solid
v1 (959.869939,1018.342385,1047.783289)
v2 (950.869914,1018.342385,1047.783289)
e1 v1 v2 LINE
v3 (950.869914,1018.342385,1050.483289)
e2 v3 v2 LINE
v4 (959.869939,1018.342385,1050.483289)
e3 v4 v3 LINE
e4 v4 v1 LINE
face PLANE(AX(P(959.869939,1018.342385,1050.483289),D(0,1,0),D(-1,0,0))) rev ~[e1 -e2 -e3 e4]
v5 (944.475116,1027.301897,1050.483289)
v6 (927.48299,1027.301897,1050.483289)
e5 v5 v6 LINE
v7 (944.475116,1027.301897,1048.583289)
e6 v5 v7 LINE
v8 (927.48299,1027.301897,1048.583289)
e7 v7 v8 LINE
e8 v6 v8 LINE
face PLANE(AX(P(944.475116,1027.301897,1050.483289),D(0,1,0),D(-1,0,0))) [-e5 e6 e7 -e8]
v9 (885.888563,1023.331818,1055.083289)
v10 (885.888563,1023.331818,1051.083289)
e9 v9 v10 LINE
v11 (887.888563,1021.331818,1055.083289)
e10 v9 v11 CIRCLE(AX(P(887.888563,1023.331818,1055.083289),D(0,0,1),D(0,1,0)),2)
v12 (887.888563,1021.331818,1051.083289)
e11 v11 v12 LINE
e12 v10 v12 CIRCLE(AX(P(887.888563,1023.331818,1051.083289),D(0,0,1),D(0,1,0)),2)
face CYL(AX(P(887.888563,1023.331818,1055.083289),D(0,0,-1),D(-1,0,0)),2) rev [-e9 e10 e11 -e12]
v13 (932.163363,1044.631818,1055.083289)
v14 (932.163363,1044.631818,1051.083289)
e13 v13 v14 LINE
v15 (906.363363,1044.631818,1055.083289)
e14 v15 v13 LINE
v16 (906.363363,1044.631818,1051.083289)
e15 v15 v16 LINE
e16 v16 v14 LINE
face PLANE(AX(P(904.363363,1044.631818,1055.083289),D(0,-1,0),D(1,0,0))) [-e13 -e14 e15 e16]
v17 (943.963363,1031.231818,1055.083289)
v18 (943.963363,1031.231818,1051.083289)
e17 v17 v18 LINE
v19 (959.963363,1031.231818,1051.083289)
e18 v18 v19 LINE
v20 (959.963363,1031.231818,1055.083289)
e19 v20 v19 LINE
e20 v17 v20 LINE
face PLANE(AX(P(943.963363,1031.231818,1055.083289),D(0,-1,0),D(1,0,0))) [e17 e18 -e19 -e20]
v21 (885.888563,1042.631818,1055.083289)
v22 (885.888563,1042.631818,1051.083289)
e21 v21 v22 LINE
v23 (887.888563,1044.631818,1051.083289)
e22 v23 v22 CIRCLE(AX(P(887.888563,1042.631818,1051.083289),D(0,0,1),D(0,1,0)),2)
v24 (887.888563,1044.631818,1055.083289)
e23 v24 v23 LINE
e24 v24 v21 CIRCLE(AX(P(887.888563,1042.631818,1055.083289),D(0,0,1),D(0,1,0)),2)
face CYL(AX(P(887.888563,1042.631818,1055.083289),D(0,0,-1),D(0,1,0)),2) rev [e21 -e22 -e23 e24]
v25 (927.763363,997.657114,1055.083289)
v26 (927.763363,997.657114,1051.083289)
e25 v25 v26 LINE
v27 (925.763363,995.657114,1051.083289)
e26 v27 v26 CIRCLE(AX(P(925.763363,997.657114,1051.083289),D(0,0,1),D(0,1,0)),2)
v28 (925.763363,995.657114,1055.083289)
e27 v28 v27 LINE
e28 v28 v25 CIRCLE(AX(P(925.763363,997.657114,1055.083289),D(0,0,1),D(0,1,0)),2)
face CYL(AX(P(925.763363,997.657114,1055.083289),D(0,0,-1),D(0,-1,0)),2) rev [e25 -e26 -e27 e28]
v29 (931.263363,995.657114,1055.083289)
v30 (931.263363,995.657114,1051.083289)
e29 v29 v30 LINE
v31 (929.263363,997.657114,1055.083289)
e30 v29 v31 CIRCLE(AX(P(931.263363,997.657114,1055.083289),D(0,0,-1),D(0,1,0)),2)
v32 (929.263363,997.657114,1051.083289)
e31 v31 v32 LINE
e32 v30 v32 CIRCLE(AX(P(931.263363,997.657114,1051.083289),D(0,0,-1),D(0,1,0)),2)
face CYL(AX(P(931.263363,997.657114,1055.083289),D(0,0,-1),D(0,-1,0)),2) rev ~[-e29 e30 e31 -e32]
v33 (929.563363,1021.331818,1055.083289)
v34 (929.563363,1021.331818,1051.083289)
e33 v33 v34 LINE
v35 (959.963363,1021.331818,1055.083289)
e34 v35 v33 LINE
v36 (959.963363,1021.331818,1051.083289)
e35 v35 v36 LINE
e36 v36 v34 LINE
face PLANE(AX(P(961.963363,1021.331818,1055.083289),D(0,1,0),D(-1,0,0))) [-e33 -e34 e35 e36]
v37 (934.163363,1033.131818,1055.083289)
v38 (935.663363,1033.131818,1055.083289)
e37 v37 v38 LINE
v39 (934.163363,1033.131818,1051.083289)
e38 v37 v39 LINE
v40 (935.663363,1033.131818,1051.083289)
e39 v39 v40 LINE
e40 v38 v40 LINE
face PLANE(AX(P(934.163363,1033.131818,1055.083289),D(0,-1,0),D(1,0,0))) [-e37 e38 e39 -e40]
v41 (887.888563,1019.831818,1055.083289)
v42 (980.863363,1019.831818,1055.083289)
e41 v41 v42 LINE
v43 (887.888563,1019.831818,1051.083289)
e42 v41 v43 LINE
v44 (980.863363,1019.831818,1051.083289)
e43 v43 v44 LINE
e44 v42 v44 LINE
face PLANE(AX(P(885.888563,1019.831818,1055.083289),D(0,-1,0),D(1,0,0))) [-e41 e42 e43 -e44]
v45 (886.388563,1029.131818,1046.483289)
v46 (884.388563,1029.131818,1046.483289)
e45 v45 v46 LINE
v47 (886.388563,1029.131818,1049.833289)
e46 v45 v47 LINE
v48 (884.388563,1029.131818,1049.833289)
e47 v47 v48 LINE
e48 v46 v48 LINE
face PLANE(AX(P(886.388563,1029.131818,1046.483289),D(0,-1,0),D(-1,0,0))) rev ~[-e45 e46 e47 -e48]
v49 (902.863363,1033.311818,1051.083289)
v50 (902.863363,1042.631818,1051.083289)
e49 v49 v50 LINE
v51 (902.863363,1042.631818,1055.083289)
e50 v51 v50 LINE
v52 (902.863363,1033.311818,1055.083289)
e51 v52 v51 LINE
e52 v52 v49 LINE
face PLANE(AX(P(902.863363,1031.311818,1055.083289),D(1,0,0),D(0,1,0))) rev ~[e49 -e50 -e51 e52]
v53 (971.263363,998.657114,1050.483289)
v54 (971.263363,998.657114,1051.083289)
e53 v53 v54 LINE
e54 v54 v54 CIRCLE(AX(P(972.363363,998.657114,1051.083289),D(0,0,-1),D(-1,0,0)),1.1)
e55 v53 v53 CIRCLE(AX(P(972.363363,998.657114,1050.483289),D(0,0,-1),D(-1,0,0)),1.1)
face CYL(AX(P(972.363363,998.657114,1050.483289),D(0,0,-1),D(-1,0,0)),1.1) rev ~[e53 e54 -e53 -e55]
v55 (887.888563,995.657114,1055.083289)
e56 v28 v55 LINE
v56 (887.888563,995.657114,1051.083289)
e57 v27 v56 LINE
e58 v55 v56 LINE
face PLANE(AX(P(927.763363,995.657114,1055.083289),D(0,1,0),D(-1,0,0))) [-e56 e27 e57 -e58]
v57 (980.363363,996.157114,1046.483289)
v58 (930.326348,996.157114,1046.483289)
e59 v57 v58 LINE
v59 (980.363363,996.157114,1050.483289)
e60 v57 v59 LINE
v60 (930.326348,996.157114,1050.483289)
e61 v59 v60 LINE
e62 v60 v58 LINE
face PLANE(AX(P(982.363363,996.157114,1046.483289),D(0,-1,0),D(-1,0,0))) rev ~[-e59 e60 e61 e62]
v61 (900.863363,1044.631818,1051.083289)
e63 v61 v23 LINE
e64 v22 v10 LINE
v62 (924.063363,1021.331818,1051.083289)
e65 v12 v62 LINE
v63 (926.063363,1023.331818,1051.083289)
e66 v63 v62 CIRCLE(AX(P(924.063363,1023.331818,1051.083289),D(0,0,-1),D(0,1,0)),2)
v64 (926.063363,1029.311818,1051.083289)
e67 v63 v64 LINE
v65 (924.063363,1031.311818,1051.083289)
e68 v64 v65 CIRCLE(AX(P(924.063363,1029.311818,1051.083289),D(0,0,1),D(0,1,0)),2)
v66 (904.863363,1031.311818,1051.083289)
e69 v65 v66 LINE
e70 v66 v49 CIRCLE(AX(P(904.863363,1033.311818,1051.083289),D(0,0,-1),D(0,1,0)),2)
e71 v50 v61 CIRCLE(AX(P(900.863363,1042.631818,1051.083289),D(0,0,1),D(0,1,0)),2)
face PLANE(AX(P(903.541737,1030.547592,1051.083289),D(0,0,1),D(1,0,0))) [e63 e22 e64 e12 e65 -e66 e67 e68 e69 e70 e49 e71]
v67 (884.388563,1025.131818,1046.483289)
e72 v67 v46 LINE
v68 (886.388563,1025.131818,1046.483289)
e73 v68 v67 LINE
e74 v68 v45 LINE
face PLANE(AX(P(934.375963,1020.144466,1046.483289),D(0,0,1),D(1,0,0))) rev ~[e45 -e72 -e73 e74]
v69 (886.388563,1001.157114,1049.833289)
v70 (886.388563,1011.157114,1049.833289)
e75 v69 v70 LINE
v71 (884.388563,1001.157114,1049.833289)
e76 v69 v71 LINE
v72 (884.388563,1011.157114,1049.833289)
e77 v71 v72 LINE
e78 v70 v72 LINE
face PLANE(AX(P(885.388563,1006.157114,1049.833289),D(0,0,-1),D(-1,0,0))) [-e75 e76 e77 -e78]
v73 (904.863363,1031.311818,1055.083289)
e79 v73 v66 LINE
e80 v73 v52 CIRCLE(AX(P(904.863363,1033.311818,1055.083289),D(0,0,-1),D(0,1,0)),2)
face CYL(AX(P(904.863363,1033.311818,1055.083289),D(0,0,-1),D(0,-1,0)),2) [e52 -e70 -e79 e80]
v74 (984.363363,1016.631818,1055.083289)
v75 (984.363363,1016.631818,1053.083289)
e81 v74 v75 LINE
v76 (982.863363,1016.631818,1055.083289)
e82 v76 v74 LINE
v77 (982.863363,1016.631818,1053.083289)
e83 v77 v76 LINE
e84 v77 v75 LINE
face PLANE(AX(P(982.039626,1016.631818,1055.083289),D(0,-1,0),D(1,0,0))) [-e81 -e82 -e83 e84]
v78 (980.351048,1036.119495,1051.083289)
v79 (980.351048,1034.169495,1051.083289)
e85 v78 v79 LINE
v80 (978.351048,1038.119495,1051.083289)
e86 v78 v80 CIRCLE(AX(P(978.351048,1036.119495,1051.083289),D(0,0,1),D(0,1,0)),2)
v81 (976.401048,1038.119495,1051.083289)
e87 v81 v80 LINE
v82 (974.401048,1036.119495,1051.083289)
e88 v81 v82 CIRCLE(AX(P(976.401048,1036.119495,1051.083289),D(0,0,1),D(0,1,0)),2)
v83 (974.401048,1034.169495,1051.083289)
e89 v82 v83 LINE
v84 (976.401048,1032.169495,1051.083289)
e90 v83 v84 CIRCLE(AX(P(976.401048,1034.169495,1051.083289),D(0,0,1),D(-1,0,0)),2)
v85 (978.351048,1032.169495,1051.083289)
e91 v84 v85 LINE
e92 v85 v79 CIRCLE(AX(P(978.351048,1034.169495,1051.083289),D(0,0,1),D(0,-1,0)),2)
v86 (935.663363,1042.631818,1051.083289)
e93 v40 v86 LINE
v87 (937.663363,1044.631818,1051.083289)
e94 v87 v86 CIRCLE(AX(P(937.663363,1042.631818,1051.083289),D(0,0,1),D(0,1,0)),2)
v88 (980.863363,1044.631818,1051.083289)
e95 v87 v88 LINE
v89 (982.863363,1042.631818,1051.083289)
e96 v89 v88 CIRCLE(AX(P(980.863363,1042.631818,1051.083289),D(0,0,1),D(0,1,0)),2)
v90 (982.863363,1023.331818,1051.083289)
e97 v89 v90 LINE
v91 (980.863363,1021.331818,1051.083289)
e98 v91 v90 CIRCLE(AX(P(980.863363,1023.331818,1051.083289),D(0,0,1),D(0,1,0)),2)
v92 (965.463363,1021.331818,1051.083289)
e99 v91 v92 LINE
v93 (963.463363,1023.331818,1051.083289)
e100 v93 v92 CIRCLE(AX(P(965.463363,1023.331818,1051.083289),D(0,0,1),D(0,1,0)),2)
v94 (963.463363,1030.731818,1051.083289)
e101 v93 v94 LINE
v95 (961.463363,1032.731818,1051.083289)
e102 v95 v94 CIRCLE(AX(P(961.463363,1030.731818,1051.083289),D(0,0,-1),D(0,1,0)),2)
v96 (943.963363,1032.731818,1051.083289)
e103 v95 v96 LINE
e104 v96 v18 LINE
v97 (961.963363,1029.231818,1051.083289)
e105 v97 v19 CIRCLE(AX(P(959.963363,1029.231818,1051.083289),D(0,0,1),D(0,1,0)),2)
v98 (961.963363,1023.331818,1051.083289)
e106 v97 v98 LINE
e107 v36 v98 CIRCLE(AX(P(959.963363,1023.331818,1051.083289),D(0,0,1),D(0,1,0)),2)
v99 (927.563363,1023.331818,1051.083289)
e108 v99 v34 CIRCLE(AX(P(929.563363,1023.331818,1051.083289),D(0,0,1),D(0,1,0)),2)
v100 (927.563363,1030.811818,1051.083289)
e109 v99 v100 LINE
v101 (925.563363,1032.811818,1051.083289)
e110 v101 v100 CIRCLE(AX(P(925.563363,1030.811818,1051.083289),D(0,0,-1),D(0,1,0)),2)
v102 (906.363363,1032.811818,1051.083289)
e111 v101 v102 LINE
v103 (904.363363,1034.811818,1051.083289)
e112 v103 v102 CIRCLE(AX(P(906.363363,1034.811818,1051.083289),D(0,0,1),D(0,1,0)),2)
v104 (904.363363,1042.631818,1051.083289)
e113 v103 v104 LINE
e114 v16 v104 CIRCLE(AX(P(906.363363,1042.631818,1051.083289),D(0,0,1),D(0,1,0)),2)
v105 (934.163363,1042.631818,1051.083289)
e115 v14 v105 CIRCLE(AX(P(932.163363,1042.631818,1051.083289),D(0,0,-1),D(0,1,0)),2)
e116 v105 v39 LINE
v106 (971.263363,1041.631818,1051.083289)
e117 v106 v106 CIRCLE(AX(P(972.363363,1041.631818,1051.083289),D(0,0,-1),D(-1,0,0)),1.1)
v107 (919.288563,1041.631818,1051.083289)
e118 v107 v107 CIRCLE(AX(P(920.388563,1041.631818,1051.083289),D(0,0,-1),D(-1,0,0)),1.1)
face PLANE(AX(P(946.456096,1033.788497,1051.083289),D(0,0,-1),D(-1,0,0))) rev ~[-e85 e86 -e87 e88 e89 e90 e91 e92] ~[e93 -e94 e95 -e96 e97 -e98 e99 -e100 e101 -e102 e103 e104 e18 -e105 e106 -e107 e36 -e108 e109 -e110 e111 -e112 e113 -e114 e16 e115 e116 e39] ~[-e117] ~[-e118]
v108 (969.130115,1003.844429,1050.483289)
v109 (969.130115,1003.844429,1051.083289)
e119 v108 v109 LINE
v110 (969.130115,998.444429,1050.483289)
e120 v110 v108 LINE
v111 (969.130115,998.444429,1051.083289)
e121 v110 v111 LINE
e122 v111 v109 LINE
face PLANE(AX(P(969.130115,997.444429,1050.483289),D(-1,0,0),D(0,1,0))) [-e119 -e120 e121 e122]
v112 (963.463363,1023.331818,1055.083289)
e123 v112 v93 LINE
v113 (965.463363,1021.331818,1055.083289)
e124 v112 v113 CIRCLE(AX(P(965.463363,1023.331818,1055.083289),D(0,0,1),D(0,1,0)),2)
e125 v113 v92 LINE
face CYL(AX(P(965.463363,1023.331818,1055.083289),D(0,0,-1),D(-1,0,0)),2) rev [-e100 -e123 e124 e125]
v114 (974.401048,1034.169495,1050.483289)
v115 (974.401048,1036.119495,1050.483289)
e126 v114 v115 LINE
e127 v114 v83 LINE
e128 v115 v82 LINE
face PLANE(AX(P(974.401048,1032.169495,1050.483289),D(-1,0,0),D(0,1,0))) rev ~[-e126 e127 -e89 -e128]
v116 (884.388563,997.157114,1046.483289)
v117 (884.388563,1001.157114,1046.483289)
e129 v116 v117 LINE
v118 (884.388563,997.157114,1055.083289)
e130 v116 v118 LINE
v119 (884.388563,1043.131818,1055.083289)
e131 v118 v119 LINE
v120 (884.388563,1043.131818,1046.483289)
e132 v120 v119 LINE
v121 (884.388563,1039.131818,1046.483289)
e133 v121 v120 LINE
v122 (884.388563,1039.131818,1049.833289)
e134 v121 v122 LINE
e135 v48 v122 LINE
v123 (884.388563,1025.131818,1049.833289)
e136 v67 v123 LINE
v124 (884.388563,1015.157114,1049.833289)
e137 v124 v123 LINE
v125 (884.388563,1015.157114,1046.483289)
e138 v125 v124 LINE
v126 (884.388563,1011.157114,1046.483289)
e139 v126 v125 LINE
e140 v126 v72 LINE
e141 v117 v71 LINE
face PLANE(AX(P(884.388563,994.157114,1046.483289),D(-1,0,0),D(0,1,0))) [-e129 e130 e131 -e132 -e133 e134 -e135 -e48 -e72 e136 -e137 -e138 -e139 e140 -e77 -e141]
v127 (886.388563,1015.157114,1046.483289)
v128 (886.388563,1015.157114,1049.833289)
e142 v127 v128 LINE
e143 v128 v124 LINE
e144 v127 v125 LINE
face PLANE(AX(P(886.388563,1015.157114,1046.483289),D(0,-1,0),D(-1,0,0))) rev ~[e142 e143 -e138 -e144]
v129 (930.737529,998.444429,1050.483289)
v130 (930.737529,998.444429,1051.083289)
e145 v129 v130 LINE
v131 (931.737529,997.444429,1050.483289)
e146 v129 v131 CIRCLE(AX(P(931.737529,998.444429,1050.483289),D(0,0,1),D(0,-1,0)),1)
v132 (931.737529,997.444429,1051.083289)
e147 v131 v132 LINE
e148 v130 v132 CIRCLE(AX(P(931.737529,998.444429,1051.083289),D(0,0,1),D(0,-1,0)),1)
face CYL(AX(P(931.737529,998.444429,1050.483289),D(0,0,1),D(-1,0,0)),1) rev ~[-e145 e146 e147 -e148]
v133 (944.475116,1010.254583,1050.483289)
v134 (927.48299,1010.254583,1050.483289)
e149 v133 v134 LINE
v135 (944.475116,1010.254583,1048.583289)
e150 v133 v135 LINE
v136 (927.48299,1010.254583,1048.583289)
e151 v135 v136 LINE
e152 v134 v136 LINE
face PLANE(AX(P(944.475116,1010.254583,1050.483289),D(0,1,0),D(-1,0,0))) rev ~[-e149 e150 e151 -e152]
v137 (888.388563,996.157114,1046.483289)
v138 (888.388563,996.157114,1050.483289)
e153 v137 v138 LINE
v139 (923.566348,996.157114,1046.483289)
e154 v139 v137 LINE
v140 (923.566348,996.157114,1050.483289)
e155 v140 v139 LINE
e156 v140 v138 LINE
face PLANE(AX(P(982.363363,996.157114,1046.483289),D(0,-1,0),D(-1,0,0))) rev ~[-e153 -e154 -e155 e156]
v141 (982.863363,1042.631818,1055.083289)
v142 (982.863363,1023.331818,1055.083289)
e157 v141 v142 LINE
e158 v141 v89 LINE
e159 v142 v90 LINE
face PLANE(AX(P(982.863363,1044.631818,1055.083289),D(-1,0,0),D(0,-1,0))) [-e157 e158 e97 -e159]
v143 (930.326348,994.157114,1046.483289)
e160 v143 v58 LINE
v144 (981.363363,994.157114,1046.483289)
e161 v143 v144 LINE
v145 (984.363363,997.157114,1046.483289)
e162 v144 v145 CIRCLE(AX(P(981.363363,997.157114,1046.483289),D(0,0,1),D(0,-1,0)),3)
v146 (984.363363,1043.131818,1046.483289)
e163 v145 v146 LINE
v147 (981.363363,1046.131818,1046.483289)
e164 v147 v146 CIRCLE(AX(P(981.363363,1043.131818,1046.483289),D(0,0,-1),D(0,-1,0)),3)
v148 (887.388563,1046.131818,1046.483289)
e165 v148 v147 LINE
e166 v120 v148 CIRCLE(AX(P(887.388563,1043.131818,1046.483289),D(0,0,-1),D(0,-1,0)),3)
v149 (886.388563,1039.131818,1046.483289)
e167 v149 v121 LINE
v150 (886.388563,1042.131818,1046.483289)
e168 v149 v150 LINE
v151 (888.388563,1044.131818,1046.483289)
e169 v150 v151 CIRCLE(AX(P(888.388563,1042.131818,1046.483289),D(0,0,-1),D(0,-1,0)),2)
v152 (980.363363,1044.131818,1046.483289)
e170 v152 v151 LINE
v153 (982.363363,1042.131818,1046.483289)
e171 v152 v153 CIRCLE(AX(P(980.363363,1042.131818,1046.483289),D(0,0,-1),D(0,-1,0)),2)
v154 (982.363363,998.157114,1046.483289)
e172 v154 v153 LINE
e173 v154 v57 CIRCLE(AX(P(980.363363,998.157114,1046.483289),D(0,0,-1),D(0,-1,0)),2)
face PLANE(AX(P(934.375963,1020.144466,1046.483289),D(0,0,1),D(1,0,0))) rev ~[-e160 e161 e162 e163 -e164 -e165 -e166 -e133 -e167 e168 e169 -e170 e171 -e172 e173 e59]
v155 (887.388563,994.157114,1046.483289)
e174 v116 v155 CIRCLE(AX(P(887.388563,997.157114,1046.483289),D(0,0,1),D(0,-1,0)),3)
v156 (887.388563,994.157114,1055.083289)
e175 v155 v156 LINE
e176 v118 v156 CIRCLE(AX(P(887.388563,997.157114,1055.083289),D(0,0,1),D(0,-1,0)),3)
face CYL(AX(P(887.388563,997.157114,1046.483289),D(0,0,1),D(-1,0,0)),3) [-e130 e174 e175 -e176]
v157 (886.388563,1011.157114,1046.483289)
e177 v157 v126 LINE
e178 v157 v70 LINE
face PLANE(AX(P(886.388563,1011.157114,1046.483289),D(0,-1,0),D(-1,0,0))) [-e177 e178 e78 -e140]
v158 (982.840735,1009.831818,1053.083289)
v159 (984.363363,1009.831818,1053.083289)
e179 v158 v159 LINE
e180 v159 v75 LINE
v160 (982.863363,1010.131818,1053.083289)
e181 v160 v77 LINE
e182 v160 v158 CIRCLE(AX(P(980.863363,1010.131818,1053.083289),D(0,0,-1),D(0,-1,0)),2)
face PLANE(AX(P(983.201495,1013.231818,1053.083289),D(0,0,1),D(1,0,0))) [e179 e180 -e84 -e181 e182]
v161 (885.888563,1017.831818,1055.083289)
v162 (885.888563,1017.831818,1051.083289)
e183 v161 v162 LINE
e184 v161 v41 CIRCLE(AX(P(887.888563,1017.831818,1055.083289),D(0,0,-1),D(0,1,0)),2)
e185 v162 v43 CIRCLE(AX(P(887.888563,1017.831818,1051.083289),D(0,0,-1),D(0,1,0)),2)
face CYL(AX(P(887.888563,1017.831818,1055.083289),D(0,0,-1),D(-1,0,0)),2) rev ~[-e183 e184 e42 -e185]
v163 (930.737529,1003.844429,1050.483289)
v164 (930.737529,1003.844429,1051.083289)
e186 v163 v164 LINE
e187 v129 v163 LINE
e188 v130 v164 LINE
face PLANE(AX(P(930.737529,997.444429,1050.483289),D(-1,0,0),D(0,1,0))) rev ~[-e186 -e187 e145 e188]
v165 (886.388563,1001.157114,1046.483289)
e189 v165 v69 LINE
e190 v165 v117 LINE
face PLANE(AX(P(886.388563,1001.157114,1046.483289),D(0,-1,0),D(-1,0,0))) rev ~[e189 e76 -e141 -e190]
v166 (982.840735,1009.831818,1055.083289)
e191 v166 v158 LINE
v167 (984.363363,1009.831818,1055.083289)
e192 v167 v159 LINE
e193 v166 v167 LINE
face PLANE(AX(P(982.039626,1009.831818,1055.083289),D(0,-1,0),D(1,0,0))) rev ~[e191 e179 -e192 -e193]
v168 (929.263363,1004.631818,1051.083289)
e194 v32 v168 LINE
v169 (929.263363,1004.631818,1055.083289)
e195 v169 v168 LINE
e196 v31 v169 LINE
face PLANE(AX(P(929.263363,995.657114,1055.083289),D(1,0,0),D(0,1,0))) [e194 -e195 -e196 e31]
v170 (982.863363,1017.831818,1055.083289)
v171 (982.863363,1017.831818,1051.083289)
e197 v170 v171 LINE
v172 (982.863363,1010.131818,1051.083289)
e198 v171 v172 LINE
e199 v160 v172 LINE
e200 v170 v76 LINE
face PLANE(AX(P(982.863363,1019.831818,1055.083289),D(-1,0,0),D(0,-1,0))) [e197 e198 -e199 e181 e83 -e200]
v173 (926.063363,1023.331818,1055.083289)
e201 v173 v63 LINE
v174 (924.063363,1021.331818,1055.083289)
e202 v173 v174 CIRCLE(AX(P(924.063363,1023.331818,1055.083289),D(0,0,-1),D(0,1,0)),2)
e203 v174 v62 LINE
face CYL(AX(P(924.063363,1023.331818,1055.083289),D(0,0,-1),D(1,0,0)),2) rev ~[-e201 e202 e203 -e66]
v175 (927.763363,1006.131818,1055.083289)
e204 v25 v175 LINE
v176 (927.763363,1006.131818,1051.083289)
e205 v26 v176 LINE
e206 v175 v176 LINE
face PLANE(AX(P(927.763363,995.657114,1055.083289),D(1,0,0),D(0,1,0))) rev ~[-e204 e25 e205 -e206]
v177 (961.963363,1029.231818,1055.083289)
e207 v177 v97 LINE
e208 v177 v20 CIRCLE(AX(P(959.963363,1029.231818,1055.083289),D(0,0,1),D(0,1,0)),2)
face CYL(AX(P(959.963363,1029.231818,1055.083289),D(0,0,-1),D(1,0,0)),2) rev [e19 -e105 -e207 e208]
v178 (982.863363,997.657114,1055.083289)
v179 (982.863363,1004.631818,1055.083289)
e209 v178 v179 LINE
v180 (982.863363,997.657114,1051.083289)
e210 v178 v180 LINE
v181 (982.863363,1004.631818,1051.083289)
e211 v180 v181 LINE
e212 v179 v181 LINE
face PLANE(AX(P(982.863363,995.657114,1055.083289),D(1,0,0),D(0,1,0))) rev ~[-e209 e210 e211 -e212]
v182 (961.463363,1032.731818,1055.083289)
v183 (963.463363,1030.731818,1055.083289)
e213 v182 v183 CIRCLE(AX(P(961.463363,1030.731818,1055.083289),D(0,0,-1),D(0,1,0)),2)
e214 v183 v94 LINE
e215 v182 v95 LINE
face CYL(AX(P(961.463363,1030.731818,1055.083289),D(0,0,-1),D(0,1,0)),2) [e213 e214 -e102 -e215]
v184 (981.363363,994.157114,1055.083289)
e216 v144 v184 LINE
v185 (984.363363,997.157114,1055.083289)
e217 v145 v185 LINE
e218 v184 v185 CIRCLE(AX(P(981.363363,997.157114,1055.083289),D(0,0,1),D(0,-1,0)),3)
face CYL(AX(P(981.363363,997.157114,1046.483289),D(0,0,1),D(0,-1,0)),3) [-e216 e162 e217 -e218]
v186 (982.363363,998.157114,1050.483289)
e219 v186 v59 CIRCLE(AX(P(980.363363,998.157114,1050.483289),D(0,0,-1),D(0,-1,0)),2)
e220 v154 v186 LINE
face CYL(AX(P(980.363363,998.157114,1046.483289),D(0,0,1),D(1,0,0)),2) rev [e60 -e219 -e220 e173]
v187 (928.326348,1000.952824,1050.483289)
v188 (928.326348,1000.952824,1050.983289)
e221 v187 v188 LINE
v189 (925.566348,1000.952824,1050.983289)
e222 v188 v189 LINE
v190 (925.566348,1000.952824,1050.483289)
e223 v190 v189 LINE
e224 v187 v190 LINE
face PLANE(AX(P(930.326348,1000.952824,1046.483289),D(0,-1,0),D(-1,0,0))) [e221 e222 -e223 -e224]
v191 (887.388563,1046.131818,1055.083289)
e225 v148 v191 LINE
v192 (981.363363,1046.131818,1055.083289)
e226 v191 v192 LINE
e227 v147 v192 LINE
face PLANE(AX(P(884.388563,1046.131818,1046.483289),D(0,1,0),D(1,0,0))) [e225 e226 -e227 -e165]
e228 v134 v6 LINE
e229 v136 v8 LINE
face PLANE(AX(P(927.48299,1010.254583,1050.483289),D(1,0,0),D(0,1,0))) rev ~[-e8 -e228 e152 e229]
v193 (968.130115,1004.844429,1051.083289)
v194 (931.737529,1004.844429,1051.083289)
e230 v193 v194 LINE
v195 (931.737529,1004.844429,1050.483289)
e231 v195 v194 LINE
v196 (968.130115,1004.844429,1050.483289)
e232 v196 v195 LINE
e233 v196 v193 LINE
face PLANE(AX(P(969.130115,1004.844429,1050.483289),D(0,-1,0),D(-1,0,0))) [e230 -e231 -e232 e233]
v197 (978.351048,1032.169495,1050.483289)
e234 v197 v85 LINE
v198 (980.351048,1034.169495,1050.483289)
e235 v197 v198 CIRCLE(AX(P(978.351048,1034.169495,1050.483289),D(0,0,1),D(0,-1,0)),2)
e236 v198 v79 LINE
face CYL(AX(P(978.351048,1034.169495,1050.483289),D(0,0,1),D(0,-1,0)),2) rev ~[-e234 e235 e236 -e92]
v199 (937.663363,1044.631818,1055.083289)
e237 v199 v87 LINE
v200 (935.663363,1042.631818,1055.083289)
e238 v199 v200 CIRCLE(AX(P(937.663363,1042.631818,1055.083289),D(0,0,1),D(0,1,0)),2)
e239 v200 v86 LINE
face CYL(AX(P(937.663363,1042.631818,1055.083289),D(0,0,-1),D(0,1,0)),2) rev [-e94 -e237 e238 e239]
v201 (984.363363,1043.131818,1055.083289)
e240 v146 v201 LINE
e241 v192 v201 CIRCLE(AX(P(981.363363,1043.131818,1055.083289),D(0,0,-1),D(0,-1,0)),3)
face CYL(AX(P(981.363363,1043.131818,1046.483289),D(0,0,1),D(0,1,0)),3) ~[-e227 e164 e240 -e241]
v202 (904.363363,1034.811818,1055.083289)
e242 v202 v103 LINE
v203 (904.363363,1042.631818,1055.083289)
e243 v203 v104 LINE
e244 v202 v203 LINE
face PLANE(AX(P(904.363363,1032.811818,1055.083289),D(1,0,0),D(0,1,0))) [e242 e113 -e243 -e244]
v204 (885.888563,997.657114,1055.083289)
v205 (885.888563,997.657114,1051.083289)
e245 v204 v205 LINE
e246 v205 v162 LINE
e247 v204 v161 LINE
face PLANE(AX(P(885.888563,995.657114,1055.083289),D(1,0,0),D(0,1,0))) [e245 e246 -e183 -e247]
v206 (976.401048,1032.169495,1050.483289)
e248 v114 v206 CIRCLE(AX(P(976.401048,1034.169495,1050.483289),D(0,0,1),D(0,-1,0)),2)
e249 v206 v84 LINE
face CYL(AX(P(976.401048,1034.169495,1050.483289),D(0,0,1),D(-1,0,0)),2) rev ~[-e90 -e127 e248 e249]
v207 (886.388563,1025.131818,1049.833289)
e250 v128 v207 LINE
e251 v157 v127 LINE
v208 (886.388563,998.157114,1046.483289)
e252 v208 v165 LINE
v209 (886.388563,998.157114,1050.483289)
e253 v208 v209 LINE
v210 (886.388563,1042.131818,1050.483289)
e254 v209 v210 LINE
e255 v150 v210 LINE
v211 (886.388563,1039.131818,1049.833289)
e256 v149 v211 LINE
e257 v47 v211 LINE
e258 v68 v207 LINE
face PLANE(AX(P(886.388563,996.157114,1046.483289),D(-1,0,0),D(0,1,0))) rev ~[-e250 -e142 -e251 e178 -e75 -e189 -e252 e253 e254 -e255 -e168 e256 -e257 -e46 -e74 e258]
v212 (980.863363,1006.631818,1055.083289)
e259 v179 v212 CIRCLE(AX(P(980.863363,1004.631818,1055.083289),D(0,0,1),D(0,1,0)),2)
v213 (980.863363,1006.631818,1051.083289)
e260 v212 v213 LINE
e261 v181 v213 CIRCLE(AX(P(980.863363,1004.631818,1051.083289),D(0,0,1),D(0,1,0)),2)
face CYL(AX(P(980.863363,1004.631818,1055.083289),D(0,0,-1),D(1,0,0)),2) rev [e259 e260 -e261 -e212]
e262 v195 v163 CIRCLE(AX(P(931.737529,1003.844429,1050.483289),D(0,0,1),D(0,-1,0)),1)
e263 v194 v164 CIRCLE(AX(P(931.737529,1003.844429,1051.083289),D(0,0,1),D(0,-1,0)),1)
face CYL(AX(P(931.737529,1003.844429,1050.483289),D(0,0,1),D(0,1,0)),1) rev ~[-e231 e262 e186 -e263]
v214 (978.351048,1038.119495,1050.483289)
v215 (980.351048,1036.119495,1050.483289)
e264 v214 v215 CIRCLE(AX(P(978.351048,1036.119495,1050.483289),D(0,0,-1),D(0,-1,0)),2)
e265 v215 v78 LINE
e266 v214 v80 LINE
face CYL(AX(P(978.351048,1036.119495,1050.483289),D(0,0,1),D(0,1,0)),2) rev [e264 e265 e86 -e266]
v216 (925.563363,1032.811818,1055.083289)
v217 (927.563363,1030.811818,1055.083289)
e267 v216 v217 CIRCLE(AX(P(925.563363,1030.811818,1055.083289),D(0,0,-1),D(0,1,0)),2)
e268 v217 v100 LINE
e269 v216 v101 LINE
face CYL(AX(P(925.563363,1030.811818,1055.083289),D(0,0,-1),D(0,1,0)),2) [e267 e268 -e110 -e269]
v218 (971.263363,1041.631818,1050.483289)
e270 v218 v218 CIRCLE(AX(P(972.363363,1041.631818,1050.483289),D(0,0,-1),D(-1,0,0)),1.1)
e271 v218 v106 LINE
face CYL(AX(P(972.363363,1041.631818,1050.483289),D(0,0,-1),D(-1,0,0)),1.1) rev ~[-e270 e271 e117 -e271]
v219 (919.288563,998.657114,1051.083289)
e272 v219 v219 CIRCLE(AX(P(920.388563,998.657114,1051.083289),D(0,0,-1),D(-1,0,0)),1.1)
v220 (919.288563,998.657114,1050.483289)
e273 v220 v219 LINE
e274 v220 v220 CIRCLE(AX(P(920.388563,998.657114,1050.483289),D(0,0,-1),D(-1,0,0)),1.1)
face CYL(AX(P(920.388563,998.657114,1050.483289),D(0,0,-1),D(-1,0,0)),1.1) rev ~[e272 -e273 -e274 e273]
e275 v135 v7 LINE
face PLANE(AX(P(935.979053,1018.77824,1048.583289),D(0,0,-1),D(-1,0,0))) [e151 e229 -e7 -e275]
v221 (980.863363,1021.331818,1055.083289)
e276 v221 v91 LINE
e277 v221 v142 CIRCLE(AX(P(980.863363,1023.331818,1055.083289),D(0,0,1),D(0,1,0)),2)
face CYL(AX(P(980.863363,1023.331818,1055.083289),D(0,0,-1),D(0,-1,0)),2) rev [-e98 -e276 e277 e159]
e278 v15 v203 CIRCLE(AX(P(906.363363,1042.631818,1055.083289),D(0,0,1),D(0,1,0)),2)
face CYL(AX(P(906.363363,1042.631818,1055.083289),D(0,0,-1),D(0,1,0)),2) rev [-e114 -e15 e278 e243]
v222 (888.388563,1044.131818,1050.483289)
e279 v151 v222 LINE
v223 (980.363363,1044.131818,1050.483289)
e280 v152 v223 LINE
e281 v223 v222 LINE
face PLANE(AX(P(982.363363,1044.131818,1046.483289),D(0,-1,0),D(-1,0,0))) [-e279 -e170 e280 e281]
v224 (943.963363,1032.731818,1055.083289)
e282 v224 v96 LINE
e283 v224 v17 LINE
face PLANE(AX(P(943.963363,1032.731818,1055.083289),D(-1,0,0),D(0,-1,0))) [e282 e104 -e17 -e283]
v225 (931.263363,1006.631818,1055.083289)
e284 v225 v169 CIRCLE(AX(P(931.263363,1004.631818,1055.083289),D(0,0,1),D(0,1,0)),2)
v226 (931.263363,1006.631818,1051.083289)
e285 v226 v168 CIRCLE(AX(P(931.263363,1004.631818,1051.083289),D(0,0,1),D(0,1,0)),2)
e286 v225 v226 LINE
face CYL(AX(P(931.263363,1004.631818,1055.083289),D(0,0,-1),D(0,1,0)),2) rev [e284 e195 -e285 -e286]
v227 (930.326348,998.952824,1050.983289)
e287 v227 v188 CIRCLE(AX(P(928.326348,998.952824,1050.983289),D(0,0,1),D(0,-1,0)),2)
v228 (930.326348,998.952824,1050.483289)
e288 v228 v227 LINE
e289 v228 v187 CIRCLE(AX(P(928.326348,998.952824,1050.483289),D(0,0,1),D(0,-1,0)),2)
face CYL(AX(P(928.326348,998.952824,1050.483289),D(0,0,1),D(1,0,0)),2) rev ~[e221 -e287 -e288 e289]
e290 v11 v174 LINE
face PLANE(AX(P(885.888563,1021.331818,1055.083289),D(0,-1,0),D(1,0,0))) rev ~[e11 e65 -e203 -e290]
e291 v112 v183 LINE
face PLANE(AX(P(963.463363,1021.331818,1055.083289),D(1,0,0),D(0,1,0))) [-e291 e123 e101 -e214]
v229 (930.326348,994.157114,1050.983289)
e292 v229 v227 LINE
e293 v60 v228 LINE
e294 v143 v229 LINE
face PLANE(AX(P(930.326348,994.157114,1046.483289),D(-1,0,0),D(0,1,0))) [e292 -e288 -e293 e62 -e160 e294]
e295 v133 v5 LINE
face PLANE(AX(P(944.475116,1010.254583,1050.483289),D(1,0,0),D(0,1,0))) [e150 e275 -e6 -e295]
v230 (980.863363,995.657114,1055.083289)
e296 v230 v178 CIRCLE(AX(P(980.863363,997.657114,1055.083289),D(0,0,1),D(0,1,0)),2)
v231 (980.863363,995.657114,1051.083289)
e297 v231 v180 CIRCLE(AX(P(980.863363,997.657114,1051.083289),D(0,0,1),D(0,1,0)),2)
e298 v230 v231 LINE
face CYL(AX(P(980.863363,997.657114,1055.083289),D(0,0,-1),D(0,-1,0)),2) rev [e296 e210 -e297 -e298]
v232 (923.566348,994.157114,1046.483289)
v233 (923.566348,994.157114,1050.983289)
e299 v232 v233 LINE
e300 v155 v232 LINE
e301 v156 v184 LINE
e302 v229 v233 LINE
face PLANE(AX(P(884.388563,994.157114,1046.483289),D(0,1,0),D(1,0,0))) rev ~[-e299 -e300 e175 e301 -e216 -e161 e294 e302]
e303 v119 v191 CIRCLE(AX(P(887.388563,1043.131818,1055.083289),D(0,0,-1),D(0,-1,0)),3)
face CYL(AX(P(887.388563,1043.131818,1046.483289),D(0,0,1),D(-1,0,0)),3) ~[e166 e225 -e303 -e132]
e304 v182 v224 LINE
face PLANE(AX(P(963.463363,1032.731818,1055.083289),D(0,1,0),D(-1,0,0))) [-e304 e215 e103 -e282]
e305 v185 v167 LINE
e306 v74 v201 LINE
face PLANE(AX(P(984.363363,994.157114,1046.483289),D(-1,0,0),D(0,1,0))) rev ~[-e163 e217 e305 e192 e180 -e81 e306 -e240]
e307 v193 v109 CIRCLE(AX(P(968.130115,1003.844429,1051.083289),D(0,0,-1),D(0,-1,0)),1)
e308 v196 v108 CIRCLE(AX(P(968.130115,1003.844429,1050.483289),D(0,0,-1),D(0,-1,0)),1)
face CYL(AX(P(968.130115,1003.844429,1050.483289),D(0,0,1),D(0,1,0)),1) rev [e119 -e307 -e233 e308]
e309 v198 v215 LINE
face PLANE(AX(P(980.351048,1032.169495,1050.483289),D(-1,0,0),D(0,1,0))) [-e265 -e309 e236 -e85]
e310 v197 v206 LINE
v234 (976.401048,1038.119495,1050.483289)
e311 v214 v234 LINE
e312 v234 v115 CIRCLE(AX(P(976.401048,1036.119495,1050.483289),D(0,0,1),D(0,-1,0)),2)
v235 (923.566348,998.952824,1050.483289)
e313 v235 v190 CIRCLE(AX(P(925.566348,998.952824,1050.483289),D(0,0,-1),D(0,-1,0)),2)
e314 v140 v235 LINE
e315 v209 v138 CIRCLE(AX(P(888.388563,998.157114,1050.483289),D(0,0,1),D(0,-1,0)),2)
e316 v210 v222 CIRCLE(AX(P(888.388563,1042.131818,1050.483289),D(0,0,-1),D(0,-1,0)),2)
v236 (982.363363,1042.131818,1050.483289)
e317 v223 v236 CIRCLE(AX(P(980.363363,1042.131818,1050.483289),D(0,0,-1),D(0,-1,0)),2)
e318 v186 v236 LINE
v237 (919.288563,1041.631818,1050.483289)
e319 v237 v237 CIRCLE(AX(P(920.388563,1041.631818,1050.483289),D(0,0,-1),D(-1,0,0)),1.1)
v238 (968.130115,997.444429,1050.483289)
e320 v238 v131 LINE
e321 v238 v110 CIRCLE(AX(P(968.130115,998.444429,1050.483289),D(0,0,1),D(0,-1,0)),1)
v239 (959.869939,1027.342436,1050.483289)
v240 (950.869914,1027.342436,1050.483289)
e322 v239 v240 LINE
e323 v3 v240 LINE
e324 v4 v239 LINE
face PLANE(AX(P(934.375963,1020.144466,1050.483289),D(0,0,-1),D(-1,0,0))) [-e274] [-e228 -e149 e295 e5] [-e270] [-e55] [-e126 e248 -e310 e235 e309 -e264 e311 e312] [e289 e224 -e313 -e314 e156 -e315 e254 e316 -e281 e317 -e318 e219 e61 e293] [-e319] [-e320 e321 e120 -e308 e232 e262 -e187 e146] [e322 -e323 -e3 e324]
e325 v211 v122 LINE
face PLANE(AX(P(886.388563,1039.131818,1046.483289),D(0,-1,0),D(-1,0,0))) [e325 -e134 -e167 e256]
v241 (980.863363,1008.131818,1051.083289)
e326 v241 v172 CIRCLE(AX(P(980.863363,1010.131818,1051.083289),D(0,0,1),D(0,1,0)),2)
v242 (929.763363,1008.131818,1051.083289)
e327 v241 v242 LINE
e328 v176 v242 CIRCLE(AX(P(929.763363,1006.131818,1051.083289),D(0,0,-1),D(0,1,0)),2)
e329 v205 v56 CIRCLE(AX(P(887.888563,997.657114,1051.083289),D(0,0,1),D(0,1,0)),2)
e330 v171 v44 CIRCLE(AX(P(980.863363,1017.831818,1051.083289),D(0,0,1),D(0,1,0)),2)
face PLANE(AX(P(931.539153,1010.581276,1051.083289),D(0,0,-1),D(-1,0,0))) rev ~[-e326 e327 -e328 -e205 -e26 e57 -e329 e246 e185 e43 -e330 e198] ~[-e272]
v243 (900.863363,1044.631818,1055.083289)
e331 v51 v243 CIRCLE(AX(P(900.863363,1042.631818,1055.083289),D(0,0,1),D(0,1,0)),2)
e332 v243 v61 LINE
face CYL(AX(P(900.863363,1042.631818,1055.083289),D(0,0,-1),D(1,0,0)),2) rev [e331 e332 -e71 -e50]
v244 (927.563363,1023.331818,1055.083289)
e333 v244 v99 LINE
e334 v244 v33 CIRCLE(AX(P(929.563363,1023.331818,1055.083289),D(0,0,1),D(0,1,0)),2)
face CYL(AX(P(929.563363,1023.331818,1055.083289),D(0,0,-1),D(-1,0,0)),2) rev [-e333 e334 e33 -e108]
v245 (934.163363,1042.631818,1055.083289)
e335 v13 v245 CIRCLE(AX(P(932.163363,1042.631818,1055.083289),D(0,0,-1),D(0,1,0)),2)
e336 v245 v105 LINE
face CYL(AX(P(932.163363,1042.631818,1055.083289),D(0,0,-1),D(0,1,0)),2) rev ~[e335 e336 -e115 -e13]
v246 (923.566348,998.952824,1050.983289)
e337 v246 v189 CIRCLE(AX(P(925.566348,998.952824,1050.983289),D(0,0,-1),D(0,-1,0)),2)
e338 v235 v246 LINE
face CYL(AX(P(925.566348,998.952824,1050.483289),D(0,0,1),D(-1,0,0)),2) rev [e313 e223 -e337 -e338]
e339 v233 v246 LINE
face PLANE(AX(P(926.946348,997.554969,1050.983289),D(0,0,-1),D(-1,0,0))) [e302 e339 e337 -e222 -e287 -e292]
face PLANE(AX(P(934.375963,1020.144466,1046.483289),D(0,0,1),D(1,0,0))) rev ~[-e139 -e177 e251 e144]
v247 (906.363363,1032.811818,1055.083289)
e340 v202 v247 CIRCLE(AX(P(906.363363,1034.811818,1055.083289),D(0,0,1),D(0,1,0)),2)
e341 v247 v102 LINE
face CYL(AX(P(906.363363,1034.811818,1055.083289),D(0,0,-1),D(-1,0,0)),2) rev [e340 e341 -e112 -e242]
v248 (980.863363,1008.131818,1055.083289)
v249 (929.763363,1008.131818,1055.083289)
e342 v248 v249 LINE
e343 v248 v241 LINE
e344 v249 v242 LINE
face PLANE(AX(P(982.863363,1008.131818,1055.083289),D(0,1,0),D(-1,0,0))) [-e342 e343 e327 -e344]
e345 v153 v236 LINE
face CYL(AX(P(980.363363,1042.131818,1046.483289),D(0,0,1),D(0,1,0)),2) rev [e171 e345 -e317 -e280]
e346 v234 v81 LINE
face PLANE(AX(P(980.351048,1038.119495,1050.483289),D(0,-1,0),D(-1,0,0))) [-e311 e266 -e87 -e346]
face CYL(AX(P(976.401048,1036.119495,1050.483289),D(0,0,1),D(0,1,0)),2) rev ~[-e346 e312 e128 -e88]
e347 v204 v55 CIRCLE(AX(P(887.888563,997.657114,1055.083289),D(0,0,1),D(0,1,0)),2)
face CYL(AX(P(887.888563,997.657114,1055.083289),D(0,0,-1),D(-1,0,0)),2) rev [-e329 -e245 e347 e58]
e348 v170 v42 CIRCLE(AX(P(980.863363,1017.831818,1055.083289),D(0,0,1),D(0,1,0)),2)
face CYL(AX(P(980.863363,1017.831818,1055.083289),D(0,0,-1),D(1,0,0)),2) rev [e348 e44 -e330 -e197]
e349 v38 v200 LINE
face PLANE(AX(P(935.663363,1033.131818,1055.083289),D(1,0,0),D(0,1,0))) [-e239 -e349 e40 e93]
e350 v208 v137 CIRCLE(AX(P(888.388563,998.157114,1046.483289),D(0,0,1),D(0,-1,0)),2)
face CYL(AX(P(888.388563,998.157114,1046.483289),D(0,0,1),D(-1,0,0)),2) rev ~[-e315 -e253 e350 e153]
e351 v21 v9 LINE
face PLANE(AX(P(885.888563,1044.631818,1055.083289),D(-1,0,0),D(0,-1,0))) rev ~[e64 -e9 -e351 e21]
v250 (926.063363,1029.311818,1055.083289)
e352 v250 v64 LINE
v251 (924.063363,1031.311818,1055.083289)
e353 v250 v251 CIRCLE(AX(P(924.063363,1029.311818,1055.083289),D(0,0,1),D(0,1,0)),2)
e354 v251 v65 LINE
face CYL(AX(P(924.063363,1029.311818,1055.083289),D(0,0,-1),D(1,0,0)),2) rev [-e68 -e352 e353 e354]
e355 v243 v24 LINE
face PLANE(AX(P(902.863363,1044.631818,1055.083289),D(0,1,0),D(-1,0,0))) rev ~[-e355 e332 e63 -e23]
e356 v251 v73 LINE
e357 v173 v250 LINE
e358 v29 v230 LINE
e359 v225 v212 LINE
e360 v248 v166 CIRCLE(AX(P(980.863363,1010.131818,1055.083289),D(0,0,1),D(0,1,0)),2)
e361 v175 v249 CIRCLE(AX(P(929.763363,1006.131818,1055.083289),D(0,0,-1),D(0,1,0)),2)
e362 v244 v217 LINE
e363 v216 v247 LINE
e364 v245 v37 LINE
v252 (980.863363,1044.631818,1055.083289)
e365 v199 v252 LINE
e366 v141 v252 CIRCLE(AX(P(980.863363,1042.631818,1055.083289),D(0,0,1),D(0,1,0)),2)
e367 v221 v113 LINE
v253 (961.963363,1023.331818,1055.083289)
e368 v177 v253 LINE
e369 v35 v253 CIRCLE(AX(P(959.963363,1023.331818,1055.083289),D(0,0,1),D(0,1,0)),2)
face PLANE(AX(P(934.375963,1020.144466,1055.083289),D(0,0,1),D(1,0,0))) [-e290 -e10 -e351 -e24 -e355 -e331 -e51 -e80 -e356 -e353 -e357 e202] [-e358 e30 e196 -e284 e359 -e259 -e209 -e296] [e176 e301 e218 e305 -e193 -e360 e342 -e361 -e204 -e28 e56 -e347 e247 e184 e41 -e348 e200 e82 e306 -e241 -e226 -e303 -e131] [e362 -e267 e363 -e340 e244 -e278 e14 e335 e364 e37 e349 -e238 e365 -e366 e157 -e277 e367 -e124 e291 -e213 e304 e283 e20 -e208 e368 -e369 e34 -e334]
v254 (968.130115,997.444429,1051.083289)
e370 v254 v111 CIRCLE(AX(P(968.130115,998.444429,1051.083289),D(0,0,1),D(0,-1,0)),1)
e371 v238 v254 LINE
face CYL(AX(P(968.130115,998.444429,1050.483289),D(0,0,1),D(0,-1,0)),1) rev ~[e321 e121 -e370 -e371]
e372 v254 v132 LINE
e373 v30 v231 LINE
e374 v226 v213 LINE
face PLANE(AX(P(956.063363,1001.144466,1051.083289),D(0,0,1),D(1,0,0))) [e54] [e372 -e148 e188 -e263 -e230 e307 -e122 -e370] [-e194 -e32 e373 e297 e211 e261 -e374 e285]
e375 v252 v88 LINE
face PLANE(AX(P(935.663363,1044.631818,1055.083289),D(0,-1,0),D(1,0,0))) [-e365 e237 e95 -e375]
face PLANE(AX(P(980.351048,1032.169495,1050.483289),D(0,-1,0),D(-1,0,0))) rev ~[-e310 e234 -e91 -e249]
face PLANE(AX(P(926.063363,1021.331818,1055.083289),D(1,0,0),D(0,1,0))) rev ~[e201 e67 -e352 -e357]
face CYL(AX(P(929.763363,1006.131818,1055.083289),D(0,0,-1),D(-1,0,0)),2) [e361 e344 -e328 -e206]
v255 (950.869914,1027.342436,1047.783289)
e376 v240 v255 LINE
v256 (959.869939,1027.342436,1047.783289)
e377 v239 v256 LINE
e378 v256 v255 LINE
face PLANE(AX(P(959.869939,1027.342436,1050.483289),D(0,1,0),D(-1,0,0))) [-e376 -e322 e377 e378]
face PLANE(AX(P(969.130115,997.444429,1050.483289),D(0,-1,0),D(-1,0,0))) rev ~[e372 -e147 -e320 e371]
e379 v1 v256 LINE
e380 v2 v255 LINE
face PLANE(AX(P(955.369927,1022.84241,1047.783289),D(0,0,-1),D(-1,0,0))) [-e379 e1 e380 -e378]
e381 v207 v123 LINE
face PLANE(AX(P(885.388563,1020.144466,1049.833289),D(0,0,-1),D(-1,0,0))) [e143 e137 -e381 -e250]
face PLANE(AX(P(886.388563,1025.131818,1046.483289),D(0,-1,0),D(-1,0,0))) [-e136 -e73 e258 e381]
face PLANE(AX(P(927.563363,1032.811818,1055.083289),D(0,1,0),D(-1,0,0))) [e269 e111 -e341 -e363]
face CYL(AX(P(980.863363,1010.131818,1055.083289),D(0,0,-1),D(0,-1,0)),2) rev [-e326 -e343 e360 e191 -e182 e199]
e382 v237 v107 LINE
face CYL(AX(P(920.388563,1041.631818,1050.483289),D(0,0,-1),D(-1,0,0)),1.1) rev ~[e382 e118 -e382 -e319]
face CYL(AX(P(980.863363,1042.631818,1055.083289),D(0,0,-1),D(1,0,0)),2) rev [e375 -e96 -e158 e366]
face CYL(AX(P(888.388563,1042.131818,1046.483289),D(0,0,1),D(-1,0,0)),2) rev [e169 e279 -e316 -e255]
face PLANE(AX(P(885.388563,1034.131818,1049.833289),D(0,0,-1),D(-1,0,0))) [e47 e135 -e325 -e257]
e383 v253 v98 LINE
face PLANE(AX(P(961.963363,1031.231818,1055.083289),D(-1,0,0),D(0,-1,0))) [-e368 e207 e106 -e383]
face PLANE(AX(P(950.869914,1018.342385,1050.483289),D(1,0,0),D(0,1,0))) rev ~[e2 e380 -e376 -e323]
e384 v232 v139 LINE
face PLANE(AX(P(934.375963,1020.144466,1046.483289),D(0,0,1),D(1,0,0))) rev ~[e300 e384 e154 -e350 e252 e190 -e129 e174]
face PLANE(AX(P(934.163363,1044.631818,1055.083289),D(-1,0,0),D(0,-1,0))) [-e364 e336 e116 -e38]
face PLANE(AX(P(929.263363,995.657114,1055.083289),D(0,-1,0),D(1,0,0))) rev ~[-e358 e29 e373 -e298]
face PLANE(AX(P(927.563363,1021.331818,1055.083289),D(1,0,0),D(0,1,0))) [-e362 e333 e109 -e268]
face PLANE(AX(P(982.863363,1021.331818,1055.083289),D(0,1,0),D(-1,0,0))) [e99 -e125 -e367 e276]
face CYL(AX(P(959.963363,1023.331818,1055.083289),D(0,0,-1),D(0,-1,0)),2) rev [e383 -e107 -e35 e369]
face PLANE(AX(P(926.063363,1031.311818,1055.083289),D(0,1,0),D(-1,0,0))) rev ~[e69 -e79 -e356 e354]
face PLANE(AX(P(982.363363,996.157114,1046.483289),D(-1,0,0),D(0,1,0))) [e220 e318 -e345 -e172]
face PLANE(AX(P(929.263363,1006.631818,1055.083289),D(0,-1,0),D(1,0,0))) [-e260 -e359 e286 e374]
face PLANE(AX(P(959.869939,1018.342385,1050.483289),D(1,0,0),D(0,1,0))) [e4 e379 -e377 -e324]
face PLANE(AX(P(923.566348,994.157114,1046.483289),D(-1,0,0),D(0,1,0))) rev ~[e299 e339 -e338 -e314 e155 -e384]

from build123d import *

# Parameters (mm, degrees)
SKETCH_1_W           = 99.974800609
SKETCH_1_H           = 51.97470409
EXTRUDE_1_DEPTH      = 8.6
SKETCH_2_W           = 95.974800609
SKETCH_2_H           = 47.97470409
CUT_EXTRUDE_1_DEPTH  = 4
SKETCH_3_W           = 2
SKETCH_3_H           = 10
SKETCH_3_H_2         = 9.97470409
CUT_EXTRUDE_2_DEPTH  = 3.35
SKETCH_4_R           = 1.1
SKETCH_4_W           = 38.392586289
SKETCH_4_H           = 7.4
SKETCH_4_W_2         = 5.95
SKETCH_4_H_2         = 5.95
CUT_EXTRUDE_3_DEPTH  = 1437.448457956
SKETCH_6_W           = 6.76
SKETCH_6_H           = 6.795709929
CUT_EXTRUDE_4_DEPTH  = 4.5
FILLET_1_R           = 3
FILLET_3_R           = 2
SKETCH_12_W          = 9.000025401
SKETCH_12_H          = 9.0000508
EXTRUDE_3_DEPTH      = 2.7
SKETCH_13_W          = 16.992125984
SKETCH_13_H          = 17.047314393
EXTRUDE_4_DEPTH      = 1.9
SKETCH_7_W           = 53.6
SKETCH_7_H           = 10.97470409
CUT_EXTRUDE_14_DEPTH = 4
FILLET_7_R           = 2
FILLET_8_R           = 1
SKETCH_14_W          = 2.323736835
SKETCH_14_H          = 6.8
CUT_EXTRUDE_15_DEPTH = 2


with BuildPart() as part:
    # 草图1 → 凸台-拉伸1 (new body)
    with BuildSketch(Plane.XY.offset(1046.483288979)):
        with Locations((934.375963031, 1020.144466268)):
            Rectangle(SKETCH_1_W, SKETCH_1_H)
    extrude(amount=EXTRUDE_1_DEPTH)

    # 草图2 → 切除-拉伸1 (cut)
    with BuildSketch(Plane(origin=(0, 0, 1046.483288979), x_dir=(-1, 0, 0), z_dir=(0, 0, -1))):
        with Locations((-934.375963031, 1020.144466268)):
            Rectangle(SKETCH_2_W, SKETCH_2_H)
    extrude(amount=-CUT_EXTRUDE_1_DEPTH, mode=Mode.SUBTRACT)

    # 草图3 → 切除-拉伸2 (cut)
    with BuildSketch(Plane(origin=(0, 0, 1046.483288979), x_dir=(-1, 0, 0), z_dir=(0, 0, -1))):
        with Locations((-885.388562726, 1034.131818313)):
            Rectangle(SKETCH_3_W, SKETCH_3_H)
        with Locations((-885.388562726, 1020.144466268)):
            Rectangle(SKETCH_3_W, SKETCH_3_H_2)
        with Locations((-885.388562726, 1006.157114223)):
            Rectangle(SKETCH_3_W, SKETCH_3_H)
    extrude(amount=-CUT_EXTRUDE_2_DEPTH, mode=Mode.SUBTRACT)

    # 草图4 → 切除-拉伸3 (cut, through all)
    with BuildSketch(Plane(origin=(0, 0, 1050.483288979), x_dir=(-1, 0, 0), z_dir=(0, 0, -1))):
        with Locations((-920.388562726, 1041.631818313)):
            Circle(SKETCH_4_R)
        with Locations((-920.388562726, 998.657114223)):
            Circle(SKETCH_4_R)
        with Locations((-972.363363335, 998.657114223)):
            Circle(SKETCH_4_R)
        with Locations((-972.363363335, 1041.631818313)):
            Circle(SKETCH_4_R)
        with Locations((-949.933821712, 1001.144429438)):
            Rectangle(SKETCH_4_W, SKETCH_4_H)
        with Locations((-977.376048121, 1035.144495478)):
            Rectangle(SKETCH_4_W_2, SKETCH_4_H_2)
    extrude(amount=-CUT_EXTRUDE_3_DEPTH, mode=Mode.SUBTRACT)

    # 草图6 → 切除-拉伸4 (cut)
    with BuildSketch(Plane(origin=(0, 0, 1046.483288979), x_dir=(-1, 0, 0), z_dir=(0, 0, -1))):
        with Locations((-926.946347841, 997.554969188)):
            Rectangle(SKETCH_6_W, SKETCH_6_H)
    extrude(amount=-CUT_EXTRUDE_4_DEPTH, mode=Mode.SUBTRACT)

    # 圆角1
    fillet_1_edges = [part.edges().sort_by_distance(p)[0] for p in [
        (884.388562726, 1046.131818313, 1050.783288979),
        (984.363363335, 1046.131818313, 1050.783288979),
        (984.363363335, 994.157114223, 1050.783288979),
        (884.388562726, 994.157114223, 1050.783288979),
    ]]
    fillet(fillet_1_edges, radius=FILLET_1_R)

    # 圆角3
    fillet_3_edges = [part.edges().sort_by_distance(p)[0] for p in [
        (980.351048121, 1032.169495478, 1052.783288979),
        (980.351048121, 1038.119495478, 1052.783288979),
        (974.401048121, 1038.119495478, 1052.783288979),
        (974.401048121, 1032.169495478, 1052.783288979),
    ]]
    fillet(fillet_3_edges, radius=FILLET_3_R)

    # 草图12 → 凸台-拉伸3 (add)
    with BuildSketch(Plane(origin=(0, 0, 1050.483288979), x_dir=(-1, 0, 0), z_dir=(0, 0, -1))):
        with Locations((-955.369926709, 1022.842410134)):
            Rectangle(SKETCH_12_W, SKETCH_12_H)
    extrude(amount=EXTRUDE_3_DEPTH)

    # 草图13 → 凸台-拉伸4 (add)
    with BuildSketch(Plane(origin=(0, 0, 1050.483288979), x_dir=(-1, 0, 0), z_dir=(0, 0, -1))):
        with Locations((-935.979052947, 1018.778239857)):
            Rectangle(SKETCH_13_W, SKETCH_13_H)
    extrude(amount=EXTRUDE_4_DEPTH)

    # 草图7 → 切除-拉伸14 (cut)
    with BuildSketch(Plane.XY.offset(1055.083288979)):
        Polygon((885.888562726, 1019.831818313), (982.863363335, 1019.831818313), (982.863363335, 1008.131818313), (927.763363335, 1008.131818313), (927.763363335, 1006.631818313), (927.763363335, 995.657114223), (885.888562726, 995.657114223), align=None)
        Polygon((934.163363335, 1044.631818313), (934.163363335, 1033.131818313), (935.663363335, 1033.131818313), (935.663363335, 1044.631818313), (982.863363335, 1044.631818313), (982.863363335, 1021.331818313), (963.463363335, 1021.331818313), (963.463363335, 1032.731818313), (943.963363335, 1032.731818313), (943.963363335, 1031.231818313), (961.963363335, 1031.231818313), (961.963363335, 1021.331818313), (927.563363335, 1021.331818313), (927.563363335, 1032.811818313), (904.363363335, 1032.811818313), (904.363363335, 1044.631818313), align=None)
        with Locations((956.063363335, 1001.144466268)):
            Rectangle(SKETCH_7_W, SKETCH_7_H)
        Polygon((926.063363335, 1021.331818313), (926.063363335, 1031.311818313), (902.863363335, 1031.311818313), (902.863363335, 1044.631818313), (885.888562726, 1044.631818313), (885.888562726, 1021.331818313), align=None)
    extrude(amount=-CUT_EXTRUDE_14_DEPTH, mode=Mode.SUBTRACT)

    # 圆角7
    fillet_7_edges = [part.edges().sort_by_distance(p)[0] for p in [
        (923.566347841, 1000.952824152, 1050.733288979),
        (930.326347841, 1000.952824152, 1050.733288979),
        (982.363363335, 996.157114223, 1048.483288979),
        (982.363363335, 1044.131818313, 1048.483288979),
        (886.388562726, 1044.131818313, 1048.483288979),
        (886.388562726, 996.157114223, 1048.483288979),
        (982.863363335, 995.657114223, 1053.083288979),
        (929.263363335, 995.657114223, 1053.083288979),
        (929.263363335, 1006.631818313, 1053.083288979),
        (982.863363335, 1006.631818313, 1053.083288979),
        (961.963363335, 1021.331818313, 1053.083288979),
        (927.563363335, 1021.331818313, 1053.083288979),
        (927.563363335, 1032.811818313, 1053.083288979),
        (904.363363335, 1032.811818313, 1053.083288979),
        (904.363363335, 1044.631818313, 1053.083288979),
        (934.163363335, 1044.631818313, 1053.083288979),
        (935.663363335, 1044.631818313, 1053.083288979),
        (982.863363335, 1044.631818313, 1053.083288979),
        (982.863363335, 1021.331818313, 1053.083288979),
        (963.463363335, 1021.331818313, 1053.083288979),
        (963.463363335, 1032.731818313, 1053.083288979),
        (961.963363335, 1031.231818313, 1053.083288979),
        (885.888562726, 1021.331818313, 1053.083288979),
        (885.888562726, 1044.631818313, 1053.083288979),
        (902.863363335, 1044.631818313, 1053.083288979),
        (902.863363335, 1031.311818313, 1053.083288979),
        (926.063363335, 1031.311818313, 1053.083288979),
        (926.063363335, 1021.331818313, 1053.083288979),
        (927.763363335, 995.657114223, 1053.083288979),
        (885.888562726, 995.657114223, 1053.083288979),
        (885.888562726, 1019.831818313, 1053.083288979),
        (982.863363335, 1019.831818313, 1053.083288979),
        (982.863363335, 1008.131818313, 1053.083288979),
        (927.763363335, 1008.131818313, 1053.083288979),
    ]]
    fillet(fillet_7_edges, radius=FILLET_7_R)

    # 圆角8
    fillet_8_edges = [part.edges().sort_by_distance(p)[0] for p in [
        (930.737528567, 997.444429438, 1050.783288979),
        (969.130114856, 997.444429438, 1050.783288979),
        (930.737528567, 1004.844429438, 1050.783288979),
        (969.130114856, 1004.844429438, 1050.783288979),
    ]]
    fillet(fillet_8_edges, radius=FILLET_8_R)

    # 草图14 → 切除-拉伸15 (cut)
    with BuildSketch(Plane.XY.offset(1055.083288979)):
        with Locations((983.201494917, 1013.231818313)):
            Rectangle(SKETCH_14_W, SKETCH_14_H)
    extrude(amount=-CUT_EXTRUDE_15_DEPTH, mode=Mode.SUBTRACT)


solid = part.part
